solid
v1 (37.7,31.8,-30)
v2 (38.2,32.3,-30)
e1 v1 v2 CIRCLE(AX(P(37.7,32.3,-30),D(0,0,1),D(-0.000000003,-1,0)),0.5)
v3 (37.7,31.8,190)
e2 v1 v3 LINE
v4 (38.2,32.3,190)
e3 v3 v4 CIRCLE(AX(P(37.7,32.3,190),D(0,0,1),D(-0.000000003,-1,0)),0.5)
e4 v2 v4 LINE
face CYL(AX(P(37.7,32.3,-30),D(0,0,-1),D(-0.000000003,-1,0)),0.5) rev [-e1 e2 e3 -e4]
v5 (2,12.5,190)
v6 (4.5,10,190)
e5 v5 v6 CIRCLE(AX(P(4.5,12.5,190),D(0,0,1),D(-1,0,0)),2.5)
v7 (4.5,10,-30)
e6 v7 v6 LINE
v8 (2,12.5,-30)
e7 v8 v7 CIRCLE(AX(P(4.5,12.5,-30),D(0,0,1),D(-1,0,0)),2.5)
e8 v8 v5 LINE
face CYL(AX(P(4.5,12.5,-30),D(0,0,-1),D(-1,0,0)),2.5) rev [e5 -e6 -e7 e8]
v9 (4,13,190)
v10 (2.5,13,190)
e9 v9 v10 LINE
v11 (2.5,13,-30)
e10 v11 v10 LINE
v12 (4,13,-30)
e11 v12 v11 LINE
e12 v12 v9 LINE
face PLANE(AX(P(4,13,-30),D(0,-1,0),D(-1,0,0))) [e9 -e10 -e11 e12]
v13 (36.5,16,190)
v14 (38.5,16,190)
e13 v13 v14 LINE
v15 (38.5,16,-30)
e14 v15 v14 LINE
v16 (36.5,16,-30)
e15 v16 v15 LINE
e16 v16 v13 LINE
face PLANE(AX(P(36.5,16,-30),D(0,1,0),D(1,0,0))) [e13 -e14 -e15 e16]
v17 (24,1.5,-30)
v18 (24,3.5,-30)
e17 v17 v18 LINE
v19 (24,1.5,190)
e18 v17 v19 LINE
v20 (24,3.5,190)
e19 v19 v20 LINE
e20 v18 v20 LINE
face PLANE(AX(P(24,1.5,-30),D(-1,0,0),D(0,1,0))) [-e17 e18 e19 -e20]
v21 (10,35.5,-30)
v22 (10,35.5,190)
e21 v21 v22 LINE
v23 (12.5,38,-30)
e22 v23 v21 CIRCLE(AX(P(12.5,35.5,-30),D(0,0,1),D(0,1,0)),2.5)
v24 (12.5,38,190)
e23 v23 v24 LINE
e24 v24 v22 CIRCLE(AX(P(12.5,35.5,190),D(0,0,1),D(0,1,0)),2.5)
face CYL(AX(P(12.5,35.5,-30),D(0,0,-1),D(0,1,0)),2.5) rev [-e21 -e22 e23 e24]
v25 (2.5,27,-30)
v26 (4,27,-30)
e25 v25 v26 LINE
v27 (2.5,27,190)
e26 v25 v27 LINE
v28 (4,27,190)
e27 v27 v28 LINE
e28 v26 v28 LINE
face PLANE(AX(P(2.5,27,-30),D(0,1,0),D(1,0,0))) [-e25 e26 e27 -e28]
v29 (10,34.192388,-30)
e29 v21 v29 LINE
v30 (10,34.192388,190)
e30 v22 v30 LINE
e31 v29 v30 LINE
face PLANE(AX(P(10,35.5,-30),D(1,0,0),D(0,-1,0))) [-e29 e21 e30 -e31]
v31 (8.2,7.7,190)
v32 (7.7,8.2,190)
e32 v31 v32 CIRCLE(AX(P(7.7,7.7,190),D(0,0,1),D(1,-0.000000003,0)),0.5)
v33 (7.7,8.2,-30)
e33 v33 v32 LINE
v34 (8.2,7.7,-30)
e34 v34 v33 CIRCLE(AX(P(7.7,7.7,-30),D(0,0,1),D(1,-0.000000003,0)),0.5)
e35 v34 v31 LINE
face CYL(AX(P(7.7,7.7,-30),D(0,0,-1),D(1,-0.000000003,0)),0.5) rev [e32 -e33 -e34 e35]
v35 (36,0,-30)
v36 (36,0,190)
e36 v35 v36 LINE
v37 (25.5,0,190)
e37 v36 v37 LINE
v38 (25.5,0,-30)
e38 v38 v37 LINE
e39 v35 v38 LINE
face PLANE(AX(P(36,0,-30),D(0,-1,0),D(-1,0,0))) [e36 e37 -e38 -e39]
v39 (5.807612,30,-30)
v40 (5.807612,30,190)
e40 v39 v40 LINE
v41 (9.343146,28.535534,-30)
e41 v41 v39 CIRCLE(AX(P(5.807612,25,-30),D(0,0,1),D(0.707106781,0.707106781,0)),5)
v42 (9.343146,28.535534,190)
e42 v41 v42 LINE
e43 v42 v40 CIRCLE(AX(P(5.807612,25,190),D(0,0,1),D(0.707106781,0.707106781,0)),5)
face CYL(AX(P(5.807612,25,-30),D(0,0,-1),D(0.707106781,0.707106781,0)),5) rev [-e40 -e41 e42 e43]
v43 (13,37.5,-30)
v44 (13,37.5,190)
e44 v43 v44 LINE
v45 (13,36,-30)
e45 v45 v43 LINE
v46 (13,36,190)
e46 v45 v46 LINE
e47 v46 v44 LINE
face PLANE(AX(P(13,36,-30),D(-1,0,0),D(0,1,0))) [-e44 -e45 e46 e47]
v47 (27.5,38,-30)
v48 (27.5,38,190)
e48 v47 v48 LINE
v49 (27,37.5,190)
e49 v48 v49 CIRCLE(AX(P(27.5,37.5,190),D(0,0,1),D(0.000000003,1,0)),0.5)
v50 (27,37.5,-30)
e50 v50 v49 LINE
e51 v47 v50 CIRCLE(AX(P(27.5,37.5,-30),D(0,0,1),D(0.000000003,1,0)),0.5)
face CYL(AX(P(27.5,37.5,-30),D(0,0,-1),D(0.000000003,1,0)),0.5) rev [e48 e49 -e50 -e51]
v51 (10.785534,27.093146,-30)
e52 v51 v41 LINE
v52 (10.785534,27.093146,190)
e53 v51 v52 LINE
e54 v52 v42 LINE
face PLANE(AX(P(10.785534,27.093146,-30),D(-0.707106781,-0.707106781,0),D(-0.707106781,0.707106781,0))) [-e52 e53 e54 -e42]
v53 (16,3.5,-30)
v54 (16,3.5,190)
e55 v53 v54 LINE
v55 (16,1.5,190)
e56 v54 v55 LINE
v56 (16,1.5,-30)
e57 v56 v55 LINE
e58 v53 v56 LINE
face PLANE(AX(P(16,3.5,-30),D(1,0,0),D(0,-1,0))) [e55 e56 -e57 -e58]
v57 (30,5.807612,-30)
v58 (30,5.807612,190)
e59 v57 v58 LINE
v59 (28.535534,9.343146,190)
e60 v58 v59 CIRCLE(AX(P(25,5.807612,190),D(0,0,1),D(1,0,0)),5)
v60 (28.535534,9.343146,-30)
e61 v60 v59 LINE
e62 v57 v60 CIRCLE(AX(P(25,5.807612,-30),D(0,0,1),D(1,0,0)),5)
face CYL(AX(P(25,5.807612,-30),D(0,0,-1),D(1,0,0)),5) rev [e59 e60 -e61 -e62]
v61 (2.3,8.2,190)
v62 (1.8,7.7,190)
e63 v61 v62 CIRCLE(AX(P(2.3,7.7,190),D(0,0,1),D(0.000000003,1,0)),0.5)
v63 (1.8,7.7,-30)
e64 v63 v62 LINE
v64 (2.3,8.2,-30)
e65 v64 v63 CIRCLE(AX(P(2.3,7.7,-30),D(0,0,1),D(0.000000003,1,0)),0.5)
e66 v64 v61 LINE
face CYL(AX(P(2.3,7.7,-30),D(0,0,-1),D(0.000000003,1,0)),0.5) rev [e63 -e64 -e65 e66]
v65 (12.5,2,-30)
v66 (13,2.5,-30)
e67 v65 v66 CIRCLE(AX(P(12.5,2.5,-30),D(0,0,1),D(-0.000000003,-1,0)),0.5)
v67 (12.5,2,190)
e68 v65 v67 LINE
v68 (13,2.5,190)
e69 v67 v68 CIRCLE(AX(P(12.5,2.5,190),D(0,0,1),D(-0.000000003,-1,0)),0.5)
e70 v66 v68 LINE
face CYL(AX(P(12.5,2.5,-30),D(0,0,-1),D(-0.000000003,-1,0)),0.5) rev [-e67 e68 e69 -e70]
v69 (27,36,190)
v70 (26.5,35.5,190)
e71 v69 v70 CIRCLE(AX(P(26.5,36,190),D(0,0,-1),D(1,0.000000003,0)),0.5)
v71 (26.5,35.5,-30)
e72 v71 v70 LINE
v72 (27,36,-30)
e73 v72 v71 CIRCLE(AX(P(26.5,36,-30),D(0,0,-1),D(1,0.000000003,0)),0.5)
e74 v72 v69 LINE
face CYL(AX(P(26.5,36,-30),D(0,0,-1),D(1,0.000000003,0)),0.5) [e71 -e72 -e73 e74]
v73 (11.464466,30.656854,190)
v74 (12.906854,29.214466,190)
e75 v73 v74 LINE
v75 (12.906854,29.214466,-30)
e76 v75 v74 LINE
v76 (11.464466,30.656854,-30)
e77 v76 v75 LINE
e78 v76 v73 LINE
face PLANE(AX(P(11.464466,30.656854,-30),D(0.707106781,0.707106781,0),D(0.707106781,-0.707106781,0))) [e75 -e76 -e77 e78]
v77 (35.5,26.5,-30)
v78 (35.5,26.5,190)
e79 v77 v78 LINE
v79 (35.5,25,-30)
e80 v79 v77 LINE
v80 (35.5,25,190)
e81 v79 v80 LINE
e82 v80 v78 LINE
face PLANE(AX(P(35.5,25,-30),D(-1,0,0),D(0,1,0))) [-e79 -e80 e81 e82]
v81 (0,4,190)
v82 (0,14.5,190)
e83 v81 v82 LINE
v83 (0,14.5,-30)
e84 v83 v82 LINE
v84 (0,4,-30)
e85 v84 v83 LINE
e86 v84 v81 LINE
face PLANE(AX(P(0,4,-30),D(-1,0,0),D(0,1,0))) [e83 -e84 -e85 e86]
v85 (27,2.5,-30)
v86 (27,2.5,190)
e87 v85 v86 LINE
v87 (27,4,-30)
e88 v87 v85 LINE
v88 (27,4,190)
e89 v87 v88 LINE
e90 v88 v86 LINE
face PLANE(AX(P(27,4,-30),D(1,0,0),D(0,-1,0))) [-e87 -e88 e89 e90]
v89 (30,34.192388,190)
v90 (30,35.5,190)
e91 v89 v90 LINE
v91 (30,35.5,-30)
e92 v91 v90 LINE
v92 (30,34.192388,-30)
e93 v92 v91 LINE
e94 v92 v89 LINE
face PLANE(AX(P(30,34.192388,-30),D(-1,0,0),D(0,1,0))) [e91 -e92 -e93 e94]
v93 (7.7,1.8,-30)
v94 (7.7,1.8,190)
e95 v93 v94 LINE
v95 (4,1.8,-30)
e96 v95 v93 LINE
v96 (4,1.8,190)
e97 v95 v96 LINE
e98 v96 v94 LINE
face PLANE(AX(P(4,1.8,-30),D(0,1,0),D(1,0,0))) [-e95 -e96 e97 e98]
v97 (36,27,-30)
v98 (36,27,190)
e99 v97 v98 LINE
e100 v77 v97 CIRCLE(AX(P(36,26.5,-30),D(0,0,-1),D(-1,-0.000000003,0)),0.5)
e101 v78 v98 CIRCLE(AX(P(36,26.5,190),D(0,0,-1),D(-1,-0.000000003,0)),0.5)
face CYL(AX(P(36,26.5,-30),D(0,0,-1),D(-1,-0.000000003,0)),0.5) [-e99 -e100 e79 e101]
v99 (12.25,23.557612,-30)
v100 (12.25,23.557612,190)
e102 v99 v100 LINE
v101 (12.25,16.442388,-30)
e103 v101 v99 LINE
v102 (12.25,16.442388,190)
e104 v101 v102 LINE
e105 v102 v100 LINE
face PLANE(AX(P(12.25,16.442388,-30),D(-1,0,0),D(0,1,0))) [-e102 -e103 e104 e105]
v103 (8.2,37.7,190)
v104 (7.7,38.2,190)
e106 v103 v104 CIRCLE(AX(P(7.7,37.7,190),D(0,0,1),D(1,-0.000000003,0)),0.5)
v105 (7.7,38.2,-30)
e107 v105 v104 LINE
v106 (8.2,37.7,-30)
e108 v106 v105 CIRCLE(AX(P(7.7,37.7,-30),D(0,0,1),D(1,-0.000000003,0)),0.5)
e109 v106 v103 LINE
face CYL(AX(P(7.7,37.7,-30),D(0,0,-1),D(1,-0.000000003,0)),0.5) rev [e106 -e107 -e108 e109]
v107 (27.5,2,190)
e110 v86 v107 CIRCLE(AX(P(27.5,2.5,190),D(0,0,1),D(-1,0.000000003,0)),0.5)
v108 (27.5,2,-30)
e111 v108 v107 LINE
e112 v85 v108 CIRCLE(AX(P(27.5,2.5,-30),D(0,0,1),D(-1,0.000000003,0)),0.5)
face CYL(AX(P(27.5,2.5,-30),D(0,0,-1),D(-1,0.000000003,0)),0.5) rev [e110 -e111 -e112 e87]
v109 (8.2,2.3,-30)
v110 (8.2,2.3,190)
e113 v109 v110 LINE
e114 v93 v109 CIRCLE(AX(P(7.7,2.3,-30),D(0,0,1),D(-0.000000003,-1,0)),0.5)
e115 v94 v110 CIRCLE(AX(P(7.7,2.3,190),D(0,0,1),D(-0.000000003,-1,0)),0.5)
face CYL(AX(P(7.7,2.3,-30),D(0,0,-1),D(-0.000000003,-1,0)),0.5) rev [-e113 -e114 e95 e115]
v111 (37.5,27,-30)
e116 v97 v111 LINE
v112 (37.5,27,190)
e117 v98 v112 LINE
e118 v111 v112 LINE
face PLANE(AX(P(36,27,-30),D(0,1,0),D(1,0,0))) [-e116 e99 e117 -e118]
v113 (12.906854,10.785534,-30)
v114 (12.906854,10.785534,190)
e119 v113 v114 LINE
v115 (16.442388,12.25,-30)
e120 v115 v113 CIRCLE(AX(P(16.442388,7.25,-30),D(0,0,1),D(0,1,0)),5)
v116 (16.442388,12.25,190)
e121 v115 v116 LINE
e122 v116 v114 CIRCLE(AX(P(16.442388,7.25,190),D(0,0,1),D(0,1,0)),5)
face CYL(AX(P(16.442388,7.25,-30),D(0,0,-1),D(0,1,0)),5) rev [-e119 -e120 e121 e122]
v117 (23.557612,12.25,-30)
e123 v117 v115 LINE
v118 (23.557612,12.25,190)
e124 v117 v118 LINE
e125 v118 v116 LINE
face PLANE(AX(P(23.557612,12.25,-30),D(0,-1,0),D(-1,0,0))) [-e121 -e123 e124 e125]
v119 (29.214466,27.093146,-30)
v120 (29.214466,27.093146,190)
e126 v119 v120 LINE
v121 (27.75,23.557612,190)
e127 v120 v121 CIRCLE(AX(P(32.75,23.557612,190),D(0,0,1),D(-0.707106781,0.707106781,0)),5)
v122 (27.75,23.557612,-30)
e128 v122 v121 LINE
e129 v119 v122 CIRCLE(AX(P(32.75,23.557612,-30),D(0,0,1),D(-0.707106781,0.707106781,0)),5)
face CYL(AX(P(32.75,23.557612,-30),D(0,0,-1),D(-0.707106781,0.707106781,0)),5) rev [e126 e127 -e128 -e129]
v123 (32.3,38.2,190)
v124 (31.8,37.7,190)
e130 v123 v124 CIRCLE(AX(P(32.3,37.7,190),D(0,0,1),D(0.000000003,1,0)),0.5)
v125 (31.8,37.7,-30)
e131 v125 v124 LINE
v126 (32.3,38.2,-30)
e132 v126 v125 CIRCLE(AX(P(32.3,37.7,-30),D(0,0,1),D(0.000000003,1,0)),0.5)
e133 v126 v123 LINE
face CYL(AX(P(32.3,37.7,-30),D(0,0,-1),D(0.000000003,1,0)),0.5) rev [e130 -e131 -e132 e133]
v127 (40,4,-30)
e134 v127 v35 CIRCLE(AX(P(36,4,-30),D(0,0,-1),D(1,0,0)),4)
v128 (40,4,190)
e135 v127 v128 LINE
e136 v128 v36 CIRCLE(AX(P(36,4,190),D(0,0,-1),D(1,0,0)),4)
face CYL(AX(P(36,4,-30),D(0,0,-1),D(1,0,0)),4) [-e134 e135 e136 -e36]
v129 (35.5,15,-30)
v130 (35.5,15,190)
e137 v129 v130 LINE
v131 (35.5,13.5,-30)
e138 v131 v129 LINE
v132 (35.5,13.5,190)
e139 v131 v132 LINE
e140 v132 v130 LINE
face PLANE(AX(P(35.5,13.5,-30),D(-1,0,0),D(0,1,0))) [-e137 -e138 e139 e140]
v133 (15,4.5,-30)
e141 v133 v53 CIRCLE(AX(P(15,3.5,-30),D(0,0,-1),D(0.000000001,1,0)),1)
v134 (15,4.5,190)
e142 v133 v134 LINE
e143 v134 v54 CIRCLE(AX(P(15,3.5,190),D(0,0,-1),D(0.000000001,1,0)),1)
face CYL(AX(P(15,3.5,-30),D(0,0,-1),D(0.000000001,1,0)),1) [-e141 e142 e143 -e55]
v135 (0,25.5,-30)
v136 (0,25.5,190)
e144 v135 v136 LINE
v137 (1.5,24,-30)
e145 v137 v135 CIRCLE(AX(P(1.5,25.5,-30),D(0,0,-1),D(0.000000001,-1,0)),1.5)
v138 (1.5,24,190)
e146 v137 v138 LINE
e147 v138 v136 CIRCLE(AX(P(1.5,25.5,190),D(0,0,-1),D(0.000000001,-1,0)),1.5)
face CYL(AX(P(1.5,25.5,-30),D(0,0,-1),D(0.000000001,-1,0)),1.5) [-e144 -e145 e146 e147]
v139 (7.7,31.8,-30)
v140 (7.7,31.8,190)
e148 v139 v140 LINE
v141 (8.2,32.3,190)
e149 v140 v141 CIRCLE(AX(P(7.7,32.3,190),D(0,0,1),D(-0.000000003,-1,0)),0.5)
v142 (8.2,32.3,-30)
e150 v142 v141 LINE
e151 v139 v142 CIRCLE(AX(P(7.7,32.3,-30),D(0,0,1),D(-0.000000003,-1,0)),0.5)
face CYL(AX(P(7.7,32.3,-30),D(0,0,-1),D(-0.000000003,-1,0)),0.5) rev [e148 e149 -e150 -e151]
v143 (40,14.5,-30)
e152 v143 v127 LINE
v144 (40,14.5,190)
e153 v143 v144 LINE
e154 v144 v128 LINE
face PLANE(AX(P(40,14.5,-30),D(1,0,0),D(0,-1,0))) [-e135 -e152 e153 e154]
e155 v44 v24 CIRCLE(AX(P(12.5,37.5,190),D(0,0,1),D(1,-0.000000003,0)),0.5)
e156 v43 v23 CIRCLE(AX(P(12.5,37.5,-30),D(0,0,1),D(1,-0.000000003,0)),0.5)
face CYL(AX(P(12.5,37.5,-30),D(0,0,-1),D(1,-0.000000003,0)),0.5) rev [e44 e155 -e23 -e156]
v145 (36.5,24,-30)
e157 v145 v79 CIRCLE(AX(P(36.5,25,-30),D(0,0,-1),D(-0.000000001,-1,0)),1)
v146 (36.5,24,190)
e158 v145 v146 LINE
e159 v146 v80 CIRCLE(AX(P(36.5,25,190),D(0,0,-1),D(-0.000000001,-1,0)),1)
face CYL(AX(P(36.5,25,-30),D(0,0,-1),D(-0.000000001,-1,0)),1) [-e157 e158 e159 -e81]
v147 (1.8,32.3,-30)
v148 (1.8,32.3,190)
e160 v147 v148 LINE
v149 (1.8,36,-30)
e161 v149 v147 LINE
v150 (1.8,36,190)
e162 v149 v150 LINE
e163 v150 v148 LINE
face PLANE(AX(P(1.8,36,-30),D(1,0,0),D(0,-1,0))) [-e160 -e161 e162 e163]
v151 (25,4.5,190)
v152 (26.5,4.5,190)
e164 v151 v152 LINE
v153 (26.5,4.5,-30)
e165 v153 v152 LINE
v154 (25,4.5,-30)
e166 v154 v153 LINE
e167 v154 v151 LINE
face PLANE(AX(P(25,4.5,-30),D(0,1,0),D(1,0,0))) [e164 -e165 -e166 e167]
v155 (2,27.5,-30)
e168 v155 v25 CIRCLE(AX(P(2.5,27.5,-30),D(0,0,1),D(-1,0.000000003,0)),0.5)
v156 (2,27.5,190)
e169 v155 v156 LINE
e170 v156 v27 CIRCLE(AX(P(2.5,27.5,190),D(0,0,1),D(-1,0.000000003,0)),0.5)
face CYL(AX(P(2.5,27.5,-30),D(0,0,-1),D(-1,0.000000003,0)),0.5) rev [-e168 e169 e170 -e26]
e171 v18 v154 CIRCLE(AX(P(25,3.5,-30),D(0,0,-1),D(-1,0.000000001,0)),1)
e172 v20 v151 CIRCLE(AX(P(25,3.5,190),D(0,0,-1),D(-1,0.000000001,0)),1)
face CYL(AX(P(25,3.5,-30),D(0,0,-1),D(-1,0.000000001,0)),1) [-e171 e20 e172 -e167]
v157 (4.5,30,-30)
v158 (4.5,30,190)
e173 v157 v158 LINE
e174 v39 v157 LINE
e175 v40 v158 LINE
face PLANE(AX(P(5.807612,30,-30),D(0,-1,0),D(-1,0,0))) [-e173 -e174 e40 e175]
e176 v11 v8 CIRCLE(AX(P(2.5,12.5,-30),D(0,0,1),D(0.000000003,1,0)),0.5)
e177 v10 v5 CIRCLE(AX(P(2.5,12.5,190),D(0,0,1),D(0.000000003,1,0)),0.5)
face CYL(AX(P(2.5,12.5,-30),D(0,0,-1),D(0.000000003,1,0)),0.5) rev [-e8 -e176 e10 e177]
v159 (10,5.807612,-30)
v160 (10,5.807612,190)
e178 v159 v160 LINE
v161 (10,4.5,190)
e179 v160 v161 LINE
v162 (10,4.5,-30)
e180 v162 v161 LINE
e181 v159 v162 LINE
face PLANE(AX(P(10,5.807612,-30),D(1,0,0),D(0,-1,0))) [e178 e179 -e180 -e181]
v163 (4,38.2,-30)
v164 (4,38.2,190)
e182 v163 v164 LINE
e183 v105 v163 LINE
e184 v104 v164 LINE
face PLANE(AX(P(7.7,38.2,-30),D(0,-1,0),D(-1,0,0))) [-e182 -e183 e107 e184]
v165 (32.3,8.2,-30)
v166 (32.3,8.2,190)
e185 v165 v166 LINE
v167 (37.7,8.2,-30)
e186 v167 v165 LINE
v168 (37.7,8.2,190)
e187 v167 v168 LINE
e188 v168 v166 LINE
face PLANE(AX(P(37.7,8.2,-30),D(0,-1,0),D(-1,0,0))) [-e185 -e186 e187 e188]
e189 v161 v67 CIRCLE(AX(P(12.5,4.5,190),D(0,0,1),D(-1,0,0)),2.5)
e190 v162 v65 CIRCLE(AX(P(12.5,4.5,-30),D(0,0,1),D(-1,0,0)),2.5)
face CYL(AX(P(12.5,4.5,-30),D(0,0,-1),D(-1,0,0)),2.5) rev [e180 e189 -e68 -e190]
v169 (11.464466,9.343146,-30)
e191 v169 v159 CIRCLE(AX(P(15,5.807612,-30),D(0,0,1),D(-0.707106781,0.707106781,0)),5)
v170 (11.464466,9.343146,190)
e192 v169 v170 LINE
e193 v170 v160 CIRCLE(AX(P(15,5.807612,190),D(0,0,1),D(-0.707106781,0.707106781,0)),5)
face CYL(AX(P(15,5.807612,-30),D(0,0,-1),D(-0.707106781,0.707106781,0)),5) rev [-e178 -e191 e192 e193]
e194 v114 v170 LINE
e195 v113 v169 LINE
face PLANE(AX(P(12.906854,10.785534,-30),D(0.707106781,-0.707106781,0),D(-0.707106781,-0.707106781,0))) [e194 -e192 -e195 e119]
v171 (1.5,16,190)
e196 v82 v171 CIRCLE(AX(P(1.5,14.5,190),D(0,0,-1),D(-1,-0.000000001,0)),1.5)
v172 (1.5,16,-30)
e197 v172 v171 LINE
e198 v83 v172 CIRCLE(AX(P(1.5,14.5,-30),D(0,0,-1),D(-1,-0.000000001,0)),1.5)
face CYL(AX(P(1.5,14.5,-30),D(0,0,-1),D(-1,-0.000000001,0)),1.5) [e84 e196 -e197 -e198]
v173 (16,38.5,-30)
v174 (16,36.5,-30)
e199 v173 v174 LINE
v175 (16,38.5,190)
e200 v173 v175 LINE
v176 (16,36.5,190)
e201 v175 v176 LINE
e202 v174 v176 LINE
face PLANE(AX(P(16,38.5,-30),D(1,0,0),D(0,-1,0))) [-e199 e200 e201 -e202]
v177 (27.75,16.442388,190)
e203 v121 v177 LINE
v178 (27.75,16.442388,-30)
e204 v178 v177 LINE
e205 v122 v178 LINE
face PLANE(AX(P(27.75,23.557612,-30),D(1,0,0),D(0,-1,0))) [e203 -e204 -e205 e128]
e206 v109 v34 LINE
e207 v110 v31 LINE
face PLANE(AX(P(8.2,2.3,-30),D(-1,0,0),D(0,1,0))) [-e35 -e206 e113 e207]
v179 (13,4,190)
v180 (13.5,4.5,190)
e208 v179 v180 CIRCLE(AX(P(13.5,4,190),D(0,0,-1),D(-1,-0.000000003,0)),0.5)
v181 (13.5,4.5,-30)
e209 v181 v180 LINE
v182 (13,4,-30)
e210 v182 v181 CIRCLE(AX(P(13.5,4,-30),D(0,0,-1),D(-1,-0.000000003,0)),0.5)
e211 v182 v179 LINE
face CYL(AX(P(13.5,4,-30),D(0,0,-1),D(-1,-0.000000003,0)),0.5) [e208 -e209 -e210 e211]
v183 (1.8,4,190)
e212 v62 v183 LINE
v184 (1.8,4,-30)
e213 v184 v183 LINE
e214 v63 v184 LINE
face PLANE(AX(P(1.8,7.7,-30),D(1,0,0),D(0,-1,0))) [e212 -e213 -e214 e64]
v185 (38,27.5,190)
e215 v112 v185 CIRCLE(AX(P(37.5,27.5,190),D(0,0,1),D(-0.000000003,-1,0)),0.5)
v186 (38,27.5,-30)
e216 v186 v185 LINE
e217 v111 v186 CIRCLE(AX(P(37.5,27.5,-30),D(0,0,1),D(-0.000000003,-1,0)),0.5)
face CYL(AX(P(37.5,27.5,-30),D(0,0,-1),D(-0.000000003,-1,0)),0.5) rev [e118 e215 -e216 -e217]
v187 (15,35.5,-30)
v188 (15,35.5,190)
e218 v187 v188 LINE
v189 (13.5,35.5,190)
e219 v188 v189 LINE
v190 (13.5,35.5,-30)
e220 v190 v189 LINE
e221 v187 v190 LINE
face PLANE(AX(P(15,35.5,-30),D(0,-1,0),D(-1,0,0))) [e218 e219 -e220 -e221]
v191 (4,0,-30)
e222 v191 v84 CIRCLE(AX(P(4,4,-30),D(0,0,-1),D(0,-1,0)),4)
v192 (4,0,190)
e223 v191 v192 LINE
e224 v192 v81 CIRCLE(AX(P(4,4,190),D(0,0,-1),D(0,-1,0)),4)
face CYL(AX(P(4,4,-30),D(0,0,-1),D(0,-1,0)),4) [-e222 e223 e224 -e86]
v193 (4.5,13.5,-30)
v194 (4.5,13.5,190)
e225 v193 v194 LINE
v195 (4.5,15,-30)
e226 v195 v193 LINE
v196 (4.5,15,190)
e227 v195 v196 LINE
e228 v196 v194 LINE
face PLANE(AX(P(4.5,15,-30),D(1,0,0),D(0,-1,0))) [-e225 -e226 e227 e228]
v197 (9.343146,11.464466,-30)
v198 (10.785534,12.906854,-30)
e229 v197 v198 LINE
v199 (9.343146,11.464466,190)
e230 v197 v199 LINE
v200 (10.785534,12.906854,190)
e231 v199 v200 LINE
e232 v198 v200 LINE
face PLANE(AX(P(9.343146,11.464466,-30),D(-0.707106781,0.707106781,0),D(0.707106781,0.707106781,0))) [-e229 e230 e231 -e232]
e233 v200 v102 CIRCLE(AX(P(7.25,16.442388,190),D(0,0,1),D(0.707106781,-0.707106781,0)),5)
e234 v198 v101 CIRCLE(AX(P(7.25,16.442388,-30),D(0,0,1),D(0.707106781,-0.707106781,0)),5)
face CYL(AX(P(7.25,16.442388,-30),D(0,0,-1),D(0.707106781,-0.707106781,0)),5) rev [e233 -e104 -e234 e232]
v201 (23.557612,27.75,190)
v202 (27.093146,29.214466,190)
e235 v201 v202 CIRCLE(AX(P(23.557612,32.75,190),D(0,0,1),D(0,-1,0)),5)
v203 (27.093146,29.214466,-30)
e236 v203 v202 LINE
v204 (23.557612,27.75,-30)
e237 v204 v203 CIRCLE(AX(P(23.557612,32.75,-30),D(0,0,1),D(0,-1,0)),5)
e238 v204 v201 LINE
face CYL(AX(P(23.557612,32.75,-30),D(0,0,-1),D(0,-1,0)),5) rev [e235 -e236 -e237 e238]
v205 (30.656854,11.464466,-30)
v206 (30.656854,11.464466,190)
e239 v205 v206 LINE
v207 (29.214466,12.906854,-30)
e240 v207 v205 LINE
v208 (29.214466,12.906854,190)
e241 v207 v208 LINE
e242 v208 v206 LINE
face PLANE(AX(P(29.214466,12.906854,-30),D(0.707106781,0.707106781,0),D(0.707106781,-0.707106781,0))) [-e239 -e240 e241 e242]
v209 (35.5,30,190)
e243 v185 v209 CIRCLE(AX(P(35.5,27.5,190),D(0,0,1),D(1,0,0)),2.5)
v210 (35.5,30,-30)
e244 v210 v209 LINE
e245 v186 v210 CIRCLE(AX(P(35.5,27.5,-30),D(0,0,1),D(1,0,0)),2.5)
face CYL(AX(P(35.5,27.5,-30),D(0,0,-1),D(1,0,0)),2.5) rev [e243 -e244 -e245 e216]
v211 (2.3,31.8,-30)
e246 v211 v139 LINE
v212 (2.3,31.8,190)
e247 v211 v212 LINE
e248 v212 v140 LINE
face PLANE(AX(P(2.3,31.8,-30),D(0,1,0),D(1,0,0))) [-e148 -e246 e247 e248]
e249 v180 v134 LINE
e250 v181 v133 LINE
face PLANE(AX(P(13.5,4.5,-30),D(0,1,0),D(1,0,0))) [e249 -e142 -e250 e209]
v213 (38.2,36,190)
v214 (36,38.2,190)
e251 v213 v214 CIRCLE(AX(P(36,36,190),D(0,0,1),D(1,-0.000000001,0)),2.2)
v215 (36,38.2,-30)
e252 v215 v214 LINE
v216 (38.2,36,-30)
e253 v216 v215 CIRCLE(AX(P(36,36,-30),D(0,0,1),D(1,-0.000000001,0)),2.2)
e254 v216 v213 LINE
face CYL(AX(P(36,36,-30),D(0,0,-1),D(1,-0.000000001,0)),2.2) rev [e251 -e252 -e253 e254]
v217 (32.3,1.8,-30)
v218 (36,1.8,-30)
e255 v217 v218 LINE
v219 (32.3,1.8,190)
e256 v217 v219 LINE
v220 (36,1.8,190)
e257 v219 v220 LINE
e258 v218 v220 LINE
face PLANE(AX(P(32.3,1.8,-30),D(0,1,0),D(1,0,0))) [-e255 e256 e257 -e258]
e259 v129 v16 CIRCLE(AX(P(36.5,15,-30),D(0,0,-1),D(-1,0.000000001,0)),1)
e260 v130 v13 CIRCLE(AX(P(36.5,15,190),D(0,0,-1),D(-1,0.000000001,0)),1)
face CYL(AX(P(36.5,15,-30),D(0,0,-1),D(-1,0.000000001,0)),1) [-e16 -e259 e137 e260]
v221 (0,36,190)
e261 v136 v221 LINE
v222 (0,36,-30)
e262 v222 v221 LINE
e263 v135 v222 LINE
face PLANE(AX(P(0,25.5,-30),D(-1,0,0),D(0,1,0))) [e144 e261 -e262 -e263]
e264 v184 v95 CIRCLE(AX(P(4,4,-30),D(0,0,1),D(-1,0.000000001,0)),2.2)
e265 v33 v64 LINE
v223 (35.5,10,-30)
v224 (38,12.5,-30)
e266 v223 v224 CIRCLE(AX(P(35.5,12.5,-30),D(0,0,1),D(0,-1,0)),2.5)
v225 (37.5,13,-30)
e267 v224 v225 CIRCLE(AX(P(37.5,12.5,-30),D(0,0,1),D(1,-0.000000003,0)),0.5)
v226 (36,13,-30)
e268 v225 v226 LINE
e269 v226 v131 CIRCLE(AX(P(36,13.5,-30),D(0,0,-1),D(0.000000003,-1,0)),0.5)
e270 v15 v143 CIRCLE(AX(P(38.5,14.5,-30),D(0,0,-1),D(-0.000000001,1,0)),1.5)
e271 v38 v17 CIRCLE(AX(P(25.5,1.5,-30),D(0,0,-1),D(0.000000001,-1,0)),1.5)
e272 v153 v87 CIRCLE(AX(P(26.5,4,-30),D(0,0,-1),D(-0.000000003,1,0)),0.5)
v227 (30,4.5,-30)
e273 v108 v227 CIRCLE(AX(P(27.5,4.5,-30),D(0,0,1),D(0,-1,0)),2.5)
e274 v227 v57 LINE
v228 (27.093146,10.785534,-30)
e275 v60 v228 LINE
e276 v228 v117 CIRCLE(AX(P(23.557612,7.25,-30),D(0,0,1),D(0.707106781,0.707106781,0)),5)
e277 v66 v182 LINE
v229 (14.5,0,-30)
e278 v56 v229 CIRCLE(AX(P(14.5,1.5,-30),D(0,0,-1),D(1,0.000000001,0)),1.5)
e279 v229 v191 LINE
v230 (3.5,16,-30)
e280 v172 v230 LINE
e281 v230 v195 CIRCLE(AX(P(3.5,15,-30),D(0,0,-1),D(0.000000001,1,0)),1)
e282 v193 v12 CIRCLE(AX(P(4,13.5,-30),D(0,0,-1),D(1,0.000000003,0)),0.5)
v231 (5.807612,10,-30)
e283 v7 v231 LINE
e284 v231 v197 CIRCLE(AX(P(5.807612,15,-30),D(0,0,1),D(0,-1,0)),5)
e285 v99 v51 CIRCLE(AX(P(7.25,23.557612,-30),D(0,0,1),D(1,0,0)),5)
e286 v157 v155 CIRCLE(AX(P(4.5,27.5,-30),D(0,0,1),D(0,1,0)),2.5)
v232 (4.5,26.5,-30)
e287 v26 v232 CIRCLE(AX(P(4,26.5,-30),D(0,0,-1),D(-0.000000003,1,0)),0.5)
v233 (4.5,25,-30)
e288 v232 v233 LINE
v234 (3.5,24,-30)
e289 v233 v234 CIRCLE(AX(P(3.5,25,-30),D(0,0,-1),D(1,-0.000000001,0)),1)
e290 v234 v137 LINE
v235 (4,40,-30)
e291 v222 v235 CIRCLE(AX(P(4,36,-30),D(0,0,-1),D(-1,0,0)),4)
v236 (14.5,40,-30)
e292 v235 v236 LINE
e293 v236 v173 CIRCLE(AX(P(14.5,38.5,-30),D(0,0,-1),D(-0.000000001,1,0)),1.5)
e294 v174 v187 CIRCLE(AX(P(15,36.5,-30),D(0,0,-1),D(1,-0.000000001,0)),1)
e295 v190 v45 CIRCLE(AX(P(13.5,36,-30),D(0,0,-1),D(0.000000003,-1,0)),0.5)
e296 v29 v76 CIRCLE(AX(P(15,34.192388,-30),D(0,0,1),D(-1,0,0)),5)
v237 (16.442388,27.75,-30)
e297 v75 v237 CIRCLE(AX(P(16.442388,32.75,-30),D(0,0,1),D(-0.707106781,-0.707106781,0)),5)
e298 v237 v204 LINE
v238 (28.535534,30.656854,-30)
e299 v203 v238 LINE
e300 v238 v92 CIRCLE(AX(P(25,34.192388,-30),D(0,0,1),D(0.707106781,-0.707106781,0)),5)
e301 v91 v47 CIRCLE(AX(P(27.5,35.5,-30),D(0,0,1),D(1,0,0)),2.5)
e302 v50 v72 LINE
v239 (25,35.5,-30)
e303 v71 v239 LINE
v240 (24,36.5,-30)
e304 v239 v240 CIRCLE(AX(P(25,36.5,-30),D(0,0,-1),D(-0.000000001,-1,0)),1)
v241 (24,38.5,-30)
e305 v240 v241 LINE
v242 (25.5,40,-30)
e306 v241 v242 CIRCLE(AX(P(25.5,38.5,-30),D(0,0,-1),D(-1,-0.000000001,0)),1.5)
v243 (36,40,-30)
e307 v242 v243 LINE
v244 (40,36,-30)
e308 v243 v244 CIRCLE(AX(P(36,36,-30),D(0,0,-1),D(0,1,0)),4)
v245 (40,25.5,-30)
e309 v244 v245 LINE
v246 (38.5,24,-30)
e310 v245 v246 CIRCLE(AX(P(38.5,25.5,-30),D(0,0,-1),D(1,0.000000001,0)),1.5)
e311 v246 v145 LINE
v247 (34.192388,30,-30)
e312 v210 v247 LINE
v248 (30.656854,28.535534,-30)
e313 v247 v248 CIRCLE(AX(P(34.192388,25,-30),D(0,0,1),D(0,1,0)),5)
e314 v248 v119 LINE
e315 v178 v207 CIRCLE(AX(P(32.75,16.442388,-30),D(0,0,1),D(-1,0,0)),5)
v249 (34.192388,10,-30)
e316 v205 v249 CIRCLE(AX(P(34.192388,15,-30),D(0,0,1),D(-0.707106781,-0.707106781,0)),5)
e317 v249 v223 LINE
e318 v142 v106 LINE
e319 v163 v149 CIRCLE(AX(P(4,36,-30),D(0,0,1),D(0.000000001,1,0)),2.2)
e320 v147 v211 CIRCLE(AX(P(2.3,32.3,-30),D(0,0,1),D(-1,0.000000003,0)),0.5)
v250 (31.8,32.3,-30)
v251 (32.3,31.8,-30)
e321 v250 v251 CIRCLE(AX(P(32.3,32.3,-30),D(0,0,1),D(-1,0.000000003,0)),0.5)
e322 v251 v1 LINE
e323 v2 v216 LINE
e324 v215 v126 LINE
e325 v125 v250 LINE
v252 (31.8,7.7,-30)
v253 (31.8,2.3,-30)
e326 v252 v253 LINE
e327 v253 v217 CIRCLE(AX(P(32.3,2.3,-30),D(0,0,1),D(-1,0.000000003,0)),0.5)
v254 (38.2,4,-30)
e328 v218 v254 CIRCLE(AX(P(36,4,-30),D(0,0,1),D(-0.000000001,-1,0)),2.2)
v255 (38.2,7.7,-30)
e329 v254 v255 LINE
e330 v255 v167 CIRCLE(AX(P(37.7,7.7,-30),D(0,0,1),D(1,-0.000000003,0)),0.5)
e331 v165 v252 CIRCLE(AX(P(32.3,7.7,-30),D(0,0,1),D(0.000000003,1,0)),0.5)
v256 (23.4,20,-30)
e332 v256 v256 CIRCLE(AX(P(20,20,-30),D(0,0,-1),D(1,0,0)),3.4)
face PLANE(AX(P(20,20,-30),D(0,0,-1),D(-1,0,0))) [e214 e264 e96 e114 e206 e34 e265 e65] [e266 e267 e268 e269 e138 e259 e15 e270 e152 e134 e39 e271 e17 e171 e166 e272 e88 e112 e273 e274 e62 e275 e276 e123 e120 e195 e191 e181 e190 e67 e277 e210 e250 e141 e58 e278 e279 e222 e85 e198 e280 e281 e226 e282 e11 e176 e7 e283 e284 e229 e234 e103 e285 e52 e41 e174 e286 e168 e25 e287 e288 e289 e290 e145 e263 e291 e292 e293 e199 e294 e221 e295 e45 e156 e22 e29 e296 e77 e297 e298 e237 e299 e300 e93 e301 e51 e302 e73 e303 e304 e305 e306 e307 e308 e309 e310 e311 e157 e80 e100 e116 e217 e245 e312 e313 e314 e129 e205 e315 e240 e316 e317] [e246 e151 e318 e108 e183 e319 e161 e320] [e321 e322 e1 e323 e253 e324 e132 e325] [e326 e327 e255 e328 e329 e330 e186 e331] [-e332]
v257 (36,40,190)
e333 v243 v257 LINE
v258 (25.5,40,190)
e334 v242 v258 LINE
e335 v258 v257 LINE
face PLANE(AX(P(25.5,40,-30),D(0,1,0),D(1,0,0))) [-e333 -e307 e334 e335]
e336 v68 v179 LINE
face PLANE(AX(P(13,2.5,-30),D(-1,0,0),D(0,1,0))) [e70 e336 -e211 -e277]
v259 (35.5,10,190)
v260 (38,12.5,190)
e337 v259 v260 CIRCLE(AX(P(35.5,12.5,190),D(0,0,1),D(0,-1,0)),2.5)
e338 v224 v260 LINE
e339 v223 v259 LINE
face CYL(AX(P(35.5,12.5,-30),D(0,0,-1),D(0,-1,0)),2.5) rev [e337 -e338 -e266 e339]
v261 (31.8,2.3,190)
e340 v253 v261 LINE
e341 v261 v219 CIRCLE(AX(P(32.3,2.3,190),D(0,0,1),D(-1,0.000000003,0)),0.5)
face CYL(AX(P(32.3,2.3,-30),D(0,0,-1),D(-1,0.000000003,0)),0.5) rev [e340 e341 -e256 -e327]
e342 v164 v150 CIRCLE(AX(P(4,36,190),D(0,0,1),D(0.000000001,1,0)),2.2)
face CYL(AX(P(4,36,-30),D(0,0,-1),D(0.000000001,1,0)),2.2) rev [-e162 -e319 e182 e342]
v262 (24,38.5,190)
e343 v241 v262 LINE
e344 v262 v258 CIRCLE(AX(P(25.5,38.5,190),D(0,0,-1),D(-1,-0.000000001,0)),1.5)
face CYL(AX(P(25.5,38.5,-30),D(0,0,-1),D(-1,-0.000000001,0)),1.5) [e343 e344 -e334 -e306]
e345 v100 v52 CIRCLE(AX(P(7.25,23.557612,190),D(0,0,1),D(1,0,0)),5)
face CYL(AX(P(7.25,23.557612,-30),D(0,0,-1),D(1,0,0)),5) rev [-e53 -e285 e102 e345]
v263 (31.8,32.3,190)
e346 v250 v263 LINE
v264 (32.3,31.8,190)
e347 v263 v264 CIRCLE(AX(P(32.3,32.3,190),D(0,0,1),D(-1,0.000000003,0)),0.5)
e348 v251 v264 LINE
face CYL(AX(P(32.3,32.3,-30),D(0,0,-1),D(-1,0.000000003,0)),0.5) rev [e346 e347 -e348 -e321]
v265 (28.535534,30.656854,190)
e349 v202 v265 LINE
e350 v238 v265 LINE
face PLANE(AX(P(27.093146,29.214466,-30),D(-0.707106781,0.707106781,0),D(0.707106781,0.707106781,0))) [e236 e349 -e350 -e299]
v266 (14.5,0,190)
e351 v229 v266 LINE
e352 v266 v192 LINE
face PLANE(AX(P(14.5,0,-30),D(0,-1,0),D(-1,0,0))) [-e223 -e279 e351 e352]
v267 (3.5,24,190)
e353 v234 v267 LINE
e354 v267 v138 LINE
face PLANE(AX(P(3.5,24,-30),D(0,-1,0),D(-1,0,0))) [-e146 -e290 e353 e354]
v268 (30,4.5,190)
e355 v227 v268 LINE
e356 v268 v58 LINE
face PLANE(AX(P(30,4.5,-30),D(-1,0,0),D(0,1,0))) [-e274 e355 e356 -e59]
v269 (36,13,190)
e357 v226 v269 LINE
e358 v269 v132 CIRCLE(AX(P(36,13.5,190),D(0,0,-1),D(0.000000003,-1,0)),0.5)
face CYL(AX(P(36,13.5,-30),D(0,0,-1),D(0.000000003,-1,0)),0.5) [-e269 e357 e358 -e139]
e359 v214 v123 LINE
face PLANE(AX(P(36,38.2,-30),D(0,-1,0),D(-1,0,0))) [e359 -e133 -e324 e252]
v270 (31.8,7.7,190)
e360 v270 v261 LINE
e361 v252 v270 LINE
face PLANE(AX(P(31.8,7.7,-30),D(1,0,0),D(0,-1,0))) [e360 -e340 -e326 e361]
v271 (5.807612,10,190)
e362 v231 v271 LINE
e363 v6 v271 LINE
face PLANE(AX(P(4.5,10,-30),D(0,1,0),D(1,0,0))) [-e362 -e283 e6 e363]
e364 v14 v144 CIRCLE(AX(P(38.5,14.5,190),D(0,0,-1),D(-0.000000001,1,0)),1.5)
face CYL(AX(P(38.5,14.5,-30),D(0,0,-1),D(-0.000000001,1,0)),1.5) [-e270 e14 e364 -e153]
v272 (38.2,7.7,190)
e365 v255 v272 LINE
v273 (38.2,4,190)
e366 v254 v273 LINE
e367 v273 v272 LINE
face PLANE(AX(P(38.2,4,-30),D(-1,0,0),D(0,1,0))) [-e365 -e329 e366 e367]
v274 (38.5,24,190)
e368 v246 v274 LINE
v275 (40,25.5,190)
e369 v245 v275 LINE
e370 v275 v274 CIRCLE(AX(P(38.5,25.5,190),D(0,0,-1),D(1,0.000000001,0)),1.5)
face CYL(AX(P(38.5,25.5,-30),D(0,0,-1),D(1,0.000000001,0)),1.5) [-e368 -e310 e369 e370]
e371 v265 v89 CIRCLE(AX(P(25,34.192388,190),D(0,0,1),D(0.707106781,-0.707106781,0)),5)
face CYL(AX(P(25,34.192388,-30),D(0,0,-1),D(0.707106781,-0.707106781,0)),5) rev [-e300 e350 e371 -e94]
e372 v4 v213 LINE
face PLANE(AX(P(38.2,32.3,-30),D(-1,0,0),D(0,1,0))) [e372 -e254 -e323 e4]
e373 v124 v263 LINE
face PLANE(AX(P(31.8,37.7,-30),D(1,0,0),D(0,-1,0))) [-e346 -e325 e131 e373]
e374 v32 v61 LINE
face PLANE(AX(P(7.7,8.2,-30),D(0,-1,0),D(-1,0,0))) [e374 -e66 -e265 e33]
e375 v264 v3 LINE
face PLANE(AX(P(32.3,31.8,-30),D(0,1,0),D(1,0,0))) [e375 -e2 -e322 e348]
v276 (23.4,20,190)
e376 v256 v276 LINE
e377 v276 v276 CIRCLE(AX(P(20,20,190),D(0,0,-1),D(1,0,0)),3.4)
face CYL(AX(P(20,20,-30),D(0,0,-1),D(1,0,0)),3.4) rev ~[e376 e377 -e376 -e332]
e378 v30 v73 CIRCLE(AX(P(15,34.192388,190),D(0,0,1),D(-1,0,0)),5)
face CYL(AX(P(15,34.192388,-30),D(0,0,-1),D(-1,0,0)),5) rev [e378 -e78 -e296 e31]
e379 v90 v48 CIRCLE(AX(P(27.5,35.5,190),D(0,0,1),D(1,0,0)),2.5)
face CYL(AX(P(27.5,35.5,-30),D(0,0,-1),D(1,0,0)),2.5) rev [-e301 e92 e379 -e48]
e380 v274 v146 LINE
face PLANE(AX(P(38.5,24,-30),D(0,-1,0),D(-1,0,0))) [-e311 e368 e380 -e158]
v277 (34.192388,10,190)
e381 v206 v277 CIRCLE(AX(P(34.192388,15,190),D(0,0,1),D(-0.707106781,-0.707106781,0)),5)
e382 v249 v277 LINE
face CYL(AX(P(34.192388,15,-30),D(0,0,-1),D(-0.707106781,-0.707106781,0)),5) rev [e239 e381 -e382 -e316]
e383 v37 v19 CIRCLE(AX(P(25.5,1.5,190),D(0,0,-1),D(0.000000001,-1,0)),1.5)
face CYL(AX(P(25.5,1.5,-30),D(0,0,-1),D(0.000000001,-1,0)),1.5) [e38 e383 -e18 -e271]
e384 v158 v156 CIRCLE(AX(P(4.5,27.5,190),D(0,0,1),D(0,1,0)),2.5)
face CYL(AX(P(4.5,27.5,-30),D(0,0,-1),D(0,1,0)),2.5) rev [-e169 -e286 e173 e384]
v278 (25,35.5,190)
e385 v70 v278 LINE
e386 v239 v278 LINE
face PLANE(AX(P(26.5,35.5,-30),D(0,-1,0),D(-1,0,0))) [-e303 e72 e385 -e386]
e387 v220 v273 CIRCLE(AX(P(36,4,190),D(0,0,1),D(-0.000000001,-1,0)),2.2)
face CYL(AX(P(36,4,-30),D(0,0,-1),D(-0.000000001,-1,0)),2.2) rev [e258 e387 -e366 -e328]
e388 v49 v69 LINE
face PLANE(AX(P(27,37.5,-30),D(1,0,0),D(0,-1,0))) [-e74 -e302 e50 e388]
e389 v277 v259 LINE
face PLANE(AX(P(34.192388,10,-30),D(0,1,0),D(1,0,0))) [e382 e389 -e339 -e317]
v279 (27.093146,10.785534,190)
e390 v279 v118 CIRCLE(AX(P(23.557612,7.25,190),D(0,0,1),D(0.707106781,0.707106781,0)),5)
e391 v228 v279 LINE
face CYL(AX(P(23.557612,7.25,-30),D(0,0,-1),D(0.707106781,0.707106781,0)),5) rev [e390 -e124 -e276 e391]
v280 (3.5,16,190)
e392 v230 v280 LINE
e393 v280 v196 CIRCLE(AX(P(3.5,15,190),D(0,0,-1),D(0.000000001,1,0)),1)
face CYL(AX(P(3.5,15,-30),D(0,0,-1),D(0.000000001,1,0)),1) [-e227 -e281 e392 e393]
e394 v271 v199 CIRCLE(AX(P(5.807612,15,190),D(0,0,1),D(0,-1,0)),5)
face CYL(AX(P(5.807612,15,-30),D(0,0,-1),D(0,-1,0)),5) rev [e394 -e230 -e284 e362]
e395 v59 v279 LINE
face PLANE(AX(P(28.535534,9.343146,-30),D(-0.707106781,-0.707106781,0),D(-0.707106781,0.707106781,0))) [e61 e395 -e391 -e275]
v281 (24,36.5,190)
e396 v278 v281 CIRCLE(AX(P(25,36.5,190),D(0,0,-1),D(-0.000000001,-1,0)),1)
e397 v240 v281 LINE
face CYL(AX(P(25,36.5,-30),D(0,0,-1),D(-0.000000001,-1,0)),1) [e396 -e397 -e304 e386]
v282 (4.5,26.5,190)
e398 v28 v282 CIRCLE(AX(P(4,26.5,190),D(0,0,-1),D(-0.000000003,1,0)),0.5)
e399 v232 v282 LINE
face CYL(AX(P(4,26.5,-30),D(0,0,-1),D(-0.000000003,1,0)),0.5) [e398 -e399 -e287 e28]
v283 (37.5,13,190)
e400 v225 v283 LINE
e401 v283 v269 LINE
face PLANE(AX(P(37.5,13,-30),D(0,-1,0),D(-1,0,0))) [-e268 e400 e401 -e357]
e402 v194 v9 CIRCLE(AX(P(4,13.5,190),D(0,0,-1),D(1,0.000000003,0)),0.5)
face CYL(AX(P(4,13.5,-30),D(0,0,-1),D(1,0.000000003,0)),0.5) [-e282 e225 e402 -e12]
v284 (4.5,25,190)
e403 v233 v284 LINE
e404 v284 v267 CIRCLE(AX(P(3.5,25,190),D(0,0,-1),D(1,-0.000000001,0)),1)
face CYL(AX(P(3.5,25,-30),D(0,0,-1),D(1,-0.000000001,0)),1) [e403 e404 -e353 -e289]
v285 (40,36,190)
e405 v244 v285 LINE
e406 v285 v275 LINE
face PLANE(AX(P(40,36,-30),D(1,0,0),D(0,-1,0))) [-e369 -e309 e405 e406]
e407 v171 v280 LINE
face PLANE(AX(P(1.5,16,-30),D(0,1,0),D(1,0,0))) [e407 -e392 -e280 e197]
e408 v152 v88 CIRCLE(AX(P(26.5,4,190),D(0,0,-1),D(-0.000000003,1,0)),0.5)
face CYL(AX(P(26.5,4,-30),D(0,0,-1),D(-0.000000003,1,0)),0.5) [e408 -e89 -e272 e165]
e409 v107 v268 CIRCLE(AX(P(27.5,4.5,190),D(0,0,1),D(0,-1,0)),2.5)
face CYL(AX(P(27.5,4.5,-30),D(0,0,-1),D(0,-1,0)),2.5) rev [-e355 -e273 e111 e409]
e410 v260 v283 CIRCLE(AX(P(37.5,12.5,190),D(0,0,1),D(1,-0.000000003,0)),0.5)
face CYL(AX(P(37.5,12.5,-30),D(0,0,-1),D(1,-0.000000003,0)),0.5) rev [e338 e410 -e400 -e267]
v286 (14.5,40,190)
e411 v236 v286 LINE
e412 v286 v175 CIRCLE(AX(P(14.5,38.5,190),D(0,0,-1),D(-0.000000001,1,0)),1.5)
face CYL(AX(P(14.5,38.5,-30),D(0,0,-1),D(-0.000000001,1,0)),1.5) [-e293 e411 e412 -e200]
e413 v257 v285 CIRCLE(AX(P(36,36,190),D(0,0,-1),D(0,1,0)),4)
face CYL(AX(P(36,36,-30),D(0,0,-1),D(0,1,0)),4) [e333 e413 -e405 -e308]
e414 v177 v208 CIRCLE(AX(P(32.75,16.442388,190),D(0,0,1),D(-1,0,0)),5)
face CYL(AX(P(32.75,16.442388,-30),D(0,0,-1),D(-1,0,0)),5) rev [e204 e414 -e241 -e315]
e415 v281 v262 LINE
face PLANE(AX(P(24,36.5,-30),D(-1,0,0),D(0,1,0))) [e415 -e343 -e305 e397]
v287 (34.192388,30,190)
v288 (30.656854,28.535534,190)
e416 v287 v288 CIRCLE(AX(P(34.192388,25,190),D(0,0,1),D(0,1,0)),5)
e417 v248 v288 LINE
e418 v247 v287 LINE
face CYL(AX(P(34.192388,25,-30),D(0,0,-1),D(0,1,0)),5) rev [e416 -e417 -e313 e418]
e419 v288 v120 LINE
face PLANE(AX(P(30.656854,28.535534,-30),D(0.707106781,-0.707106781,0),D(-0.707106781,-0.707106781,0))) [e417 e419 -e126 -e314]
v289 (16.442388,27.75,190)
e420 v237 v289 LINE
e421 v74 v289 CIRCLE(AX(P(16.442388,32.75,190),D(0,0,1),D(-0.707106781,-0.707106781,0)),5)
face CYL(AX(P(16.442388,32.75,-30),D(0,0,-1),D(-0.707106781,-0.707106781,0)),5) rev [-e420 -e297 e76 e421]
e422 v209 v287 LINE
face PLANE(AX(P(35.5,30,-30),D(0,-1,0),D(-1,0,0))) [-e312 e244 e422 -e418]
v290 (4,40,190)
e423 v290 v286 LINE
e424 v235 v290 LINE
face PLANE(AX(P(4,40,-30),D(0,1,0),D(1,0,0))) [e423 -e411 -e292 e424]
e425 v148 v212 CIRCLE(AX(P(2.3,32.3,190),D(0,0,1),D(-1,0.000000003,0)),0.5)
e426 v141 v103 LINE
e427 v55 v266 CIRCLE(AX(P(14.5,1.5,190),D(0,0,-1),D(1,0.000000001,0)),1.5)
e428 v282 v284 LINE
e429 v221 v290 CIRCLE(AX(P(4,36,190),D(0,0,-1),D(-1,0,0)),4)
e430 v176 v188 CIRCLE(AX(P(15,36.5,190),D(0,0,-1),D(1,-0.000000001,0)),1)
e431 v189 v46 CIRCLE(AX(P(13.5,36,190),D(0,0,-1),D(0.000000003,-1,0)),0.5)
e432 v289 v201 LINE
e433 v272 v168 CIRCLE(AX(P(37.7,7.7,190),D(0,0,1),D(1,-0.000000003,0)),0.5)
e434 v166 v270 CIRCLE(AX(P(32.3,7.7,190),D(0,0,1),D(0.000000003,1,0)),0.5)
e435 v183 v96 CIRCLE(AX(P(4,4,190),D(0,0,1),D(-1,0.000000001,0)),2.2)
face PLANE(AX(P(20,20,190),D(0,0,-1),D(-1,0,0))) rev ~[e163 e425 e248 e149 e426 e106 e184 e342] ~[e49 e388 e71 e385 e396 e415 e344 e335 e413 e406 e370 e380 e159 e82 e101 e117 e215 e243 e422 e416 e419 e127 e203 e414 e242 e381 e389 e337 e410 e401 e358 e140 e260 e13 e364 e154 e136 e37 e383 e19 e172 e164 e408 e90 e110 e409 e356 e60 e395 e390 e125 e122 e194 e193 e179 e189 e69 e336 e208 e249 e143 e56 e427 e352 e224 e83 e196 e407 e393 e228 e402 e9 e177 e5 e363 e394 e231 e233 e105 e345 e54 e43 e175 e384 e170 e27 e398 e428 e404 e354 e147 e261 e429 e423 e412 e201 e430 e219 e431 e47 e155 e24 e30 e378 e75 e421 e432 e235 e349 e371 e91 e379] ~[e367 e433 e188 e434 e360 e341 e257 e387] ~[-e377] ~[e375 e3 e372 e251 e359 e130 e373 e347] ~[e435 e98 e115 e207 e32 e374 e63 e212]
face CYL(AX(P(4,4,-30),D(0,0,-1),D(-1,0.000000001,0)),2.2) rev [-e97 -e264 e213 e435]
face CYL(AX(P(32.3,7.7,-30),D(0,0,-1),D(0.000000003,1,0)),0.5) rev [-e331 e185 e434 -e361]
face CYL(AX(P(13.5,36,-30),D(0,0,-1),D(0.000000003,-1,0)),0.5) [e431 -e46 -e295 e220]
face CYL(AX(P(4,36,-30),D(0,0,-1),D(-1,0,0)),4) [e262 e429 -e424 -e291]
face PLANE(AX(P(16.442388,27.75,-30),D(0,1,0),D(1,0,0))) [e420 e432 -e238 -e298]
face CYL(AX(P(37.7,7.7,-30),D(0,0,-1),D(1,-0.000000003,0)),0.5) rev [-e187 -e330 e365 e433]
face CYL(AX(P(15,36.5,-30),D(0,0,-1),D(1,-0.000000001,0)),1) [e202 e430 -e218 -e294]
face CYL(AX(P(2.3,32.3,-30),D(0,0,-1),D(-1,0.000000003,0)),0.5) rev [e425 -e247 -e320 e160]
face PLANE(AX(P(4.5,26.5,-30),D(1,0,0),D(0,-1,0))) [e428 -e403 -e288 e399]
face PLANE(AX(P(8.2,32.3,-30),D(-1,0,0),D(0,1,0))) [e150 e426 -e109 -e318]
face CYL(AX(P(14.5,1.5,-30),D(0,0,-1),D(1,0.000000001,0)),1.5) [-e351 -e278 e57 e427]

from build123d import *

# Parameters (mm, degrees)
ESQUISSE1_R        = 3.4
BOSS_EXTRU_1_DEPTH = 220


with BuildPart() as part:
    # Esquisse1 → Boss.-Extru.1 (new body)
    with BuildSketch(Plane(origin=(0, 0, -30), x_dir=(-1, 0, 0), z_dir=(0, 0, -1))):
        with BuildLine():
            Line((-4.5, 15), (-4.5, 13.5))
            ThreePointArc((-4.5, 13.5), (-4.353553391, 13.146446609), (-4, 13))
            Line((-4, 13), (-2.5, 13))
            ThreePointArc((-2.5, 13), (-2.146446609, 12.853553391), (-2, 12.5))
            ThreePointArc((-2, 12.5), (-2.732233047, 10.732233047), (-4.5, 10))
            Line((-4.5, 10), (-5.807611845, 10))
            ThreePointArc((-5.807611845, 10), (-7.721029006, 10.380602337), (-9.343145751, 11.464466094))
            Line((-9.343145751, 11.464466094), (-10.785533906, 12.906854249))
            ThreePointArc((-10.785533906, 12.906854249), (-11.869397663, 14.528970994), (-12.25, 16.442388155))
            Line((-12.25, 16.442388155), (-12.25, 23.557611845))
            ThreePointArc((-12.25, 23.557611845), (-11.869397663, 25.471029006), (-10.785533906, 27.093145751))
            Line((-10.785533906, 27.093145751), (-9.343145751, 28.535533906))
            ThreePointArc((-9.343145751, 28.535533906), (-7.721029006, 29.619397663), (-5.807611845, 30))
            Line((-5.807611845, 30), (-4.5, 30))
            ThreePointArc((-4.5, 30), (-2.732233047, 29.267766953), (-2, 27.5))
            ThreePointArc((-2, 27.5), (-2.146446609, 27.146446609), (-2.5, 27))
            Line((-2.5, 27), (-4, 27))
            ThreePointArc((-4, 27), (-4.353553391, 26.853553391), (-4.5, 26.5))
            Line((-4.5, 26.5), (-4.5, 25))
            ThreePointArc((-4.5, 25), (-4.207106781, 24.292893219), (-3.5, 24))
            Line((-3.5, 24), (-1.5, 24))
            ThreePointArc((-1.5, 24), (-0.439339828, 24.439339828), (0, 25.5))
            Line((0, 25.5), (0, 36))
            ThreePointArc((0, 36), (-1.171572875, 38.828427125), (-4, 40))
            Line((-4, 40), (-14.5, 40))
            ThreePointArc((-14.5, 40), (-15.560660172, 39.560660172), (-16, 38.5))
            Line((-16, 38.5), (-16, 36.5))
            ThreePointArc((-16, 36.5), (-15.707106781, 35.792893219), (-15, 35.5))
            Line((-15, 35.5), (-13.5, 35.5))
            ThreePointArc((-13.5, 35.5), (-13.146446609, 35.646446609), (-13, 36))
            Line((-13, 36), (-13, 37.5))
            ThreePointArc((-13, 37.5), (-12.853553391, 37.853553391), (-12.5, 38))
            ThreePointArc((-12.5, 38), (-10.732233047, 37.267766953), (-10, 35.5))
            Line((-10, 35.5), (-10, 34.192388155))
            ThreePointArc((-10, 34.192388155), (-10.380602337, 32.278970994), (-11.464466094, 30.656854249))
            Line((-11.464466094, 30.656854249), (-12.906854249, 29.214466094))
            ThreePointArc((-12.906854249, 29.214466094), (-14.528970994, 28.130602337), (-16.442388155, 27.75))
            Line((-16.442388155, 27.75), (-23.557611845, 27.75))
            ThreePointArc((-23.557611845, 27.75), (-25.471029006, 28.130602337), (-27.093145751, 29.214466094))
            Line((-27.093145751, 29.214466094), (-28.535533906, 30.656854249))
            ThreePointArc((-28.535533906, 30.656854249), (-29.619397663, 32.278970994), (-30, 34.192388155))
            Line((-30, 34.192388155), (-30, 35.5))
            ThreePointArc((-30, 35.5), (-29.267766953, 37.267766953), (-27.5, 38))
            ThreePointArc((-27.5, 38), (-27.146446609, 37.853553391), (-27, 37.5))
            Line((-27, 37.5), (-27, 36))
            ThreePointArc((-27, 36), (-26.853553391, 35.646446609), (-26.5, 35.5))
            Line((-26.5, 35.5), (-25, 35.5))
            ThreePointArc((-25, 35.5), (-24.292893219, 35.792893219), (-24, 36.5))
            Line((-24, 36.5), (-24, 38.5))
            ThreePointArc((-24, 38.5), (-24.439339828, 39.560660172), (-25.5, 40))
            Line((-25.5, 40), (-36, 40))
            ThreePointArc((-36, 40), (-38.828427125, 38.828427125), (-40, 36))
            Line((-40, 36), (-40, 25.5))
            ThreePointArc((-40, 25.5), (-39.560660172, 24.439339828), (-38.5, 24))
            Line((-38.5, 24), (-36.5, 24))
            ThreePointArc((-36.5, 24), (-35.792893219, 24.292893219), (-35.5, 25))
            Line((-35.5, 25), (-35.5, 26.5))
            ThreePointArc((-35.5, 26.5), (-35.646446609, 26.853553391), (-36, 27))
            Line((-36, 27), (-37.5, 27))
            ThreePointArc((-37.5, 27), (-37.853553391, 27.146446609), (-38, 27.5))
            ThreePointArc((-38, 27.5), (-37.267766953, 29.267766953), (-35.5, 30))
            Line((-35.5, 30), (-34.192388155, 30))
            ThreePointArc((-34.192388155, 30), (-32.278970994, 29.619397663), (-30.656854249, 28.535533906))
            Line((-30.656854249, 28.535533906), (-29.214466094, 27.093145751))
            ThreePointArc((-29.214466094, 27.093145751), (-28.130602337, 25.471029006), (-27.75, 23.557611845))
            Line((-27.75, 23.557611845), (-27.75, 16.442388155))
            ThreePointArc((-27.75, 16.442388155), (-28.130602337, 14.528970994), (-29.214466094, 12.906854249))
            Line((-29.214466094, 12.906854249), (-30.656854249, 11.464466094))
            ThreePointArc((-30.656854249, 11.464466094), (-32.278970994, 10.380602337), (-34.192388155, 10))
            Line((-34.192388155, 10), (-35.5, 10))
            ThreePointArc((-35.5, 10), (-37.267766953, 10.732233047), (-38, 12.5))
            ThreePointArc((-38, 12.5), (-37.853553391, 12.853553391), (-37.5, 13))
            Line((-37.5, 13), (-36, 13))
            ThreePointArc((-36, 13), (-35.646446609, 13.146446609), (-35.5, 13.5))
            Line((-35.5, 13.5), (-35.5, 15))
            ThreePointArc((-35.5, 15), (-35.792893219, 15.707106781), (-36.5, 16))
            Line((-36.5, 16), (-38.5, 16))
            ThreePointArc((-38.5, 16), (-39.560660172, 15.560660172), (-40, 14.5))
            Line((-40, 14.5), (-40, 4))
            ThreePointArc((-40, 4), (-38.828427125, 1.171572875), (-36, 0))
            Line((-36, 0), (-25.5, 0))
            ThreePointArc((-25.5, 0), (-24.439339828, 0.439339828), (-24, 1.5))
            Line((-24, 1.5), (-24, 3.5))
            ThreePointArc((-24, 3.5), (-24.292893219, 4.207106781), (-25, 4.5))
            Line((-25, 4.5), (-26.5, 4.5))
            ThreePointArc((-26.5, 4.5), (-26.853553391, 4.353553391), (-27, 4))
            Line((-27, 4), (-27, 2.5))
            ThreePointArc((-27, 2.5), (-27.146446609, 2.146446609), (-27.5, 2))
            ThreePointArc((-27.5, 2), (-29.267766953, 2.732233047), (-30, 4.5))
            Line((-30, 4.5), (-30, 5.807611845))
            ThreePointArc((-30, 5.807611845), (-29.619397663, 7.721029006), (-28.535533906, 9.343145751))
            Line((-28.535533906, 9.343145751), (-27.093145751, 10.785533906))
            ThreePointArc((-27.093145751, 10.785533906), (-25.471029006, 11.869397663), (-23.557611845, 12.25))
            Line((-23.557611845, 12.25), (-16.442388155, 12.25))
            ThreePointArc((-16.442388155, 12.25), (-14.528970994, 11.869397663), (-12.906854249, 10.785533906))
            Line((-12.906854249, 10.785533906), (-11.464466094, 9.343145751))
            ThreePointArc((-11.464466094, 9.343145751), (-10.380602337, 7.721029006), (-10, 5.807611845))
            Line((-10, 5.807611845), (-10, 4.5))
            ThreePointArc((-10, 4.5), (-10.732233047, 2.732233047), (-12.5, 2))
            ThreePointArc((-12.5, 2), (-12.853553391, 2.146446609), (-13, 2.5))
            Line((-13, 2.5), (-13, 4))
            ThreePointArc((-13, 4), (-13.146446609, 4.353553391), (-13.5, 4.5))
            Line((-13.5, 4.5), (-15, 4.5))
            ThreePointArc((-15, 4.5), (-15.707106781, 4.207106781), (-16, 3.5))
            Line((-16, 3.5), (-16, 1.5))
            ThreePointArc((-16, 1.5), (-15.560660172, 0.439339828), (-14.5, 0))
            Line((-14.5, 0), (-4, 0))
            ThreePointArc((-4, 0), (-1.171572875, 1.171572875), (0, 4))
            Line((0, 4), (0, 14.5))
            ThreePointArc((0, 14.5), (-0.439339828, 15.560660172), (-1.5, 16))
            Line((-1.5, 16), (-3.5, 16))
            ThreePointArc((-3.5, 16), (-4.207106781, 15.707106781), (-4.5, 15))
        make_face()
        with Locations(Location((-20, 20, 0), (0, 0, 180))):
            Circle(ESQUISSE1_R, mode=Mode.SUBTRACT)
        with BuildLine():
            Line((-4, 1.8), (-7.7, 1.8))
            ThreePointArc((-7.7, 1.8), (-8.053553391, 1.946446609), (-8.2, 2.3))
            Line((-8.2, 2.3), (-8.2, 7.7))
            ThreePointArc((-8.2, 7.7), (-8.053553391, 8.053553391), (-7.7, 8.2))
            Line((-7.7, 8.2), (-2.3, 8.2))
            ThreePointArc((-2.3, 8.2), (-1.946446609, 8.053553391), (-1.8, 7.7))
            Line((-1.8, 7.7), (-1.8, 4))
            ThreePointArc((-1.8, 4), (-2.444365081, 2.444365081), (-4, 1.8))
        make_face(mode=Mode.SUBTRACT)
        with BuildLine():
            Line((-38.2, 4), (-38.2, 7.7))
            ThreePointArc((-38.2, 7.7), (-38.053553391, 8.053553391), (-37.7, 8.2))
            Line((-37.7, 8.2), (-32.3, 8.2))
            ThreePointArc((-32.3, 8.2), (-31.946446609, 8.053553391), (-31.8, 7.7))
            Line((-31.8, 7.7), (-31.8, 2.3))
            ThreePointArc((-31.8, 2.3), (-31.946446609, 1.946446609), (-32.3, 1.8))
            Line((-32.3, 1.8), (-36, 1.8))
            ThreePointArc((-36, 1.8), (-37.555634919, 2.444365081), (-38.2, 4))
        make_face(mode=Mode.SUBTRACT)
        with BuildLine():
            Line((-36, 38.2), (-32.3, 38.2))
            ThreePointArc((-32.3, 38.2), (-31.946446609, 38.053553391), (-31.8, 37.7))
            Line((-31.8, 37.7), (-31.8, 32.3))
            ThreePointArc((-31.8, 32.3), (-31.946446609, 31.946446609), (-32.3, 31.8))
            Line((-32.3, 31.8), (-37.7, 31.8))
            ThreePointArc((-37.7, 31.8), (-38.053553391, 31.946446609), (-38.2, 32.3))
            Line((-38.2, 32.3), (-38.2, 36))
            ThreePointArc((-38.2, 36), (-37.555634919, 37.555634919), (-36, 38.2))
        make_face(mode=Mode.SUBTRACT)
        with BuildLine():
            Line((-1.8, 36), (-1.8, 32.3))
            ThreePointArc((-1.8, 32.3), (-1.946446609, 31.946446609), (-2.3, 31.8))
            Line((-2.3, 31.8), (-7.7, 31.8))
            ThreePointArc((-7.7, 31.8), (-8.053553391, 31.946446609), (-8.2, 32.3))
            Line((-8.2, 32.3), (-8.2, 37.7))
            ThreePointArc((-8.2, 37.7), (-8.053553391, 38.053553391), (-7.7, 38.2))
            Line((-7.7, 38.2), (-4, 38.2))
            ThreePointArc((-4, 38.2), (-2.444365081, 37.555634919), (-1.8, 36))
        make_face(mode=Mode.SUBTRACT)
    extrude(amount=-BOSS_EXTRU_1_DEPTH)


solid = part.part
